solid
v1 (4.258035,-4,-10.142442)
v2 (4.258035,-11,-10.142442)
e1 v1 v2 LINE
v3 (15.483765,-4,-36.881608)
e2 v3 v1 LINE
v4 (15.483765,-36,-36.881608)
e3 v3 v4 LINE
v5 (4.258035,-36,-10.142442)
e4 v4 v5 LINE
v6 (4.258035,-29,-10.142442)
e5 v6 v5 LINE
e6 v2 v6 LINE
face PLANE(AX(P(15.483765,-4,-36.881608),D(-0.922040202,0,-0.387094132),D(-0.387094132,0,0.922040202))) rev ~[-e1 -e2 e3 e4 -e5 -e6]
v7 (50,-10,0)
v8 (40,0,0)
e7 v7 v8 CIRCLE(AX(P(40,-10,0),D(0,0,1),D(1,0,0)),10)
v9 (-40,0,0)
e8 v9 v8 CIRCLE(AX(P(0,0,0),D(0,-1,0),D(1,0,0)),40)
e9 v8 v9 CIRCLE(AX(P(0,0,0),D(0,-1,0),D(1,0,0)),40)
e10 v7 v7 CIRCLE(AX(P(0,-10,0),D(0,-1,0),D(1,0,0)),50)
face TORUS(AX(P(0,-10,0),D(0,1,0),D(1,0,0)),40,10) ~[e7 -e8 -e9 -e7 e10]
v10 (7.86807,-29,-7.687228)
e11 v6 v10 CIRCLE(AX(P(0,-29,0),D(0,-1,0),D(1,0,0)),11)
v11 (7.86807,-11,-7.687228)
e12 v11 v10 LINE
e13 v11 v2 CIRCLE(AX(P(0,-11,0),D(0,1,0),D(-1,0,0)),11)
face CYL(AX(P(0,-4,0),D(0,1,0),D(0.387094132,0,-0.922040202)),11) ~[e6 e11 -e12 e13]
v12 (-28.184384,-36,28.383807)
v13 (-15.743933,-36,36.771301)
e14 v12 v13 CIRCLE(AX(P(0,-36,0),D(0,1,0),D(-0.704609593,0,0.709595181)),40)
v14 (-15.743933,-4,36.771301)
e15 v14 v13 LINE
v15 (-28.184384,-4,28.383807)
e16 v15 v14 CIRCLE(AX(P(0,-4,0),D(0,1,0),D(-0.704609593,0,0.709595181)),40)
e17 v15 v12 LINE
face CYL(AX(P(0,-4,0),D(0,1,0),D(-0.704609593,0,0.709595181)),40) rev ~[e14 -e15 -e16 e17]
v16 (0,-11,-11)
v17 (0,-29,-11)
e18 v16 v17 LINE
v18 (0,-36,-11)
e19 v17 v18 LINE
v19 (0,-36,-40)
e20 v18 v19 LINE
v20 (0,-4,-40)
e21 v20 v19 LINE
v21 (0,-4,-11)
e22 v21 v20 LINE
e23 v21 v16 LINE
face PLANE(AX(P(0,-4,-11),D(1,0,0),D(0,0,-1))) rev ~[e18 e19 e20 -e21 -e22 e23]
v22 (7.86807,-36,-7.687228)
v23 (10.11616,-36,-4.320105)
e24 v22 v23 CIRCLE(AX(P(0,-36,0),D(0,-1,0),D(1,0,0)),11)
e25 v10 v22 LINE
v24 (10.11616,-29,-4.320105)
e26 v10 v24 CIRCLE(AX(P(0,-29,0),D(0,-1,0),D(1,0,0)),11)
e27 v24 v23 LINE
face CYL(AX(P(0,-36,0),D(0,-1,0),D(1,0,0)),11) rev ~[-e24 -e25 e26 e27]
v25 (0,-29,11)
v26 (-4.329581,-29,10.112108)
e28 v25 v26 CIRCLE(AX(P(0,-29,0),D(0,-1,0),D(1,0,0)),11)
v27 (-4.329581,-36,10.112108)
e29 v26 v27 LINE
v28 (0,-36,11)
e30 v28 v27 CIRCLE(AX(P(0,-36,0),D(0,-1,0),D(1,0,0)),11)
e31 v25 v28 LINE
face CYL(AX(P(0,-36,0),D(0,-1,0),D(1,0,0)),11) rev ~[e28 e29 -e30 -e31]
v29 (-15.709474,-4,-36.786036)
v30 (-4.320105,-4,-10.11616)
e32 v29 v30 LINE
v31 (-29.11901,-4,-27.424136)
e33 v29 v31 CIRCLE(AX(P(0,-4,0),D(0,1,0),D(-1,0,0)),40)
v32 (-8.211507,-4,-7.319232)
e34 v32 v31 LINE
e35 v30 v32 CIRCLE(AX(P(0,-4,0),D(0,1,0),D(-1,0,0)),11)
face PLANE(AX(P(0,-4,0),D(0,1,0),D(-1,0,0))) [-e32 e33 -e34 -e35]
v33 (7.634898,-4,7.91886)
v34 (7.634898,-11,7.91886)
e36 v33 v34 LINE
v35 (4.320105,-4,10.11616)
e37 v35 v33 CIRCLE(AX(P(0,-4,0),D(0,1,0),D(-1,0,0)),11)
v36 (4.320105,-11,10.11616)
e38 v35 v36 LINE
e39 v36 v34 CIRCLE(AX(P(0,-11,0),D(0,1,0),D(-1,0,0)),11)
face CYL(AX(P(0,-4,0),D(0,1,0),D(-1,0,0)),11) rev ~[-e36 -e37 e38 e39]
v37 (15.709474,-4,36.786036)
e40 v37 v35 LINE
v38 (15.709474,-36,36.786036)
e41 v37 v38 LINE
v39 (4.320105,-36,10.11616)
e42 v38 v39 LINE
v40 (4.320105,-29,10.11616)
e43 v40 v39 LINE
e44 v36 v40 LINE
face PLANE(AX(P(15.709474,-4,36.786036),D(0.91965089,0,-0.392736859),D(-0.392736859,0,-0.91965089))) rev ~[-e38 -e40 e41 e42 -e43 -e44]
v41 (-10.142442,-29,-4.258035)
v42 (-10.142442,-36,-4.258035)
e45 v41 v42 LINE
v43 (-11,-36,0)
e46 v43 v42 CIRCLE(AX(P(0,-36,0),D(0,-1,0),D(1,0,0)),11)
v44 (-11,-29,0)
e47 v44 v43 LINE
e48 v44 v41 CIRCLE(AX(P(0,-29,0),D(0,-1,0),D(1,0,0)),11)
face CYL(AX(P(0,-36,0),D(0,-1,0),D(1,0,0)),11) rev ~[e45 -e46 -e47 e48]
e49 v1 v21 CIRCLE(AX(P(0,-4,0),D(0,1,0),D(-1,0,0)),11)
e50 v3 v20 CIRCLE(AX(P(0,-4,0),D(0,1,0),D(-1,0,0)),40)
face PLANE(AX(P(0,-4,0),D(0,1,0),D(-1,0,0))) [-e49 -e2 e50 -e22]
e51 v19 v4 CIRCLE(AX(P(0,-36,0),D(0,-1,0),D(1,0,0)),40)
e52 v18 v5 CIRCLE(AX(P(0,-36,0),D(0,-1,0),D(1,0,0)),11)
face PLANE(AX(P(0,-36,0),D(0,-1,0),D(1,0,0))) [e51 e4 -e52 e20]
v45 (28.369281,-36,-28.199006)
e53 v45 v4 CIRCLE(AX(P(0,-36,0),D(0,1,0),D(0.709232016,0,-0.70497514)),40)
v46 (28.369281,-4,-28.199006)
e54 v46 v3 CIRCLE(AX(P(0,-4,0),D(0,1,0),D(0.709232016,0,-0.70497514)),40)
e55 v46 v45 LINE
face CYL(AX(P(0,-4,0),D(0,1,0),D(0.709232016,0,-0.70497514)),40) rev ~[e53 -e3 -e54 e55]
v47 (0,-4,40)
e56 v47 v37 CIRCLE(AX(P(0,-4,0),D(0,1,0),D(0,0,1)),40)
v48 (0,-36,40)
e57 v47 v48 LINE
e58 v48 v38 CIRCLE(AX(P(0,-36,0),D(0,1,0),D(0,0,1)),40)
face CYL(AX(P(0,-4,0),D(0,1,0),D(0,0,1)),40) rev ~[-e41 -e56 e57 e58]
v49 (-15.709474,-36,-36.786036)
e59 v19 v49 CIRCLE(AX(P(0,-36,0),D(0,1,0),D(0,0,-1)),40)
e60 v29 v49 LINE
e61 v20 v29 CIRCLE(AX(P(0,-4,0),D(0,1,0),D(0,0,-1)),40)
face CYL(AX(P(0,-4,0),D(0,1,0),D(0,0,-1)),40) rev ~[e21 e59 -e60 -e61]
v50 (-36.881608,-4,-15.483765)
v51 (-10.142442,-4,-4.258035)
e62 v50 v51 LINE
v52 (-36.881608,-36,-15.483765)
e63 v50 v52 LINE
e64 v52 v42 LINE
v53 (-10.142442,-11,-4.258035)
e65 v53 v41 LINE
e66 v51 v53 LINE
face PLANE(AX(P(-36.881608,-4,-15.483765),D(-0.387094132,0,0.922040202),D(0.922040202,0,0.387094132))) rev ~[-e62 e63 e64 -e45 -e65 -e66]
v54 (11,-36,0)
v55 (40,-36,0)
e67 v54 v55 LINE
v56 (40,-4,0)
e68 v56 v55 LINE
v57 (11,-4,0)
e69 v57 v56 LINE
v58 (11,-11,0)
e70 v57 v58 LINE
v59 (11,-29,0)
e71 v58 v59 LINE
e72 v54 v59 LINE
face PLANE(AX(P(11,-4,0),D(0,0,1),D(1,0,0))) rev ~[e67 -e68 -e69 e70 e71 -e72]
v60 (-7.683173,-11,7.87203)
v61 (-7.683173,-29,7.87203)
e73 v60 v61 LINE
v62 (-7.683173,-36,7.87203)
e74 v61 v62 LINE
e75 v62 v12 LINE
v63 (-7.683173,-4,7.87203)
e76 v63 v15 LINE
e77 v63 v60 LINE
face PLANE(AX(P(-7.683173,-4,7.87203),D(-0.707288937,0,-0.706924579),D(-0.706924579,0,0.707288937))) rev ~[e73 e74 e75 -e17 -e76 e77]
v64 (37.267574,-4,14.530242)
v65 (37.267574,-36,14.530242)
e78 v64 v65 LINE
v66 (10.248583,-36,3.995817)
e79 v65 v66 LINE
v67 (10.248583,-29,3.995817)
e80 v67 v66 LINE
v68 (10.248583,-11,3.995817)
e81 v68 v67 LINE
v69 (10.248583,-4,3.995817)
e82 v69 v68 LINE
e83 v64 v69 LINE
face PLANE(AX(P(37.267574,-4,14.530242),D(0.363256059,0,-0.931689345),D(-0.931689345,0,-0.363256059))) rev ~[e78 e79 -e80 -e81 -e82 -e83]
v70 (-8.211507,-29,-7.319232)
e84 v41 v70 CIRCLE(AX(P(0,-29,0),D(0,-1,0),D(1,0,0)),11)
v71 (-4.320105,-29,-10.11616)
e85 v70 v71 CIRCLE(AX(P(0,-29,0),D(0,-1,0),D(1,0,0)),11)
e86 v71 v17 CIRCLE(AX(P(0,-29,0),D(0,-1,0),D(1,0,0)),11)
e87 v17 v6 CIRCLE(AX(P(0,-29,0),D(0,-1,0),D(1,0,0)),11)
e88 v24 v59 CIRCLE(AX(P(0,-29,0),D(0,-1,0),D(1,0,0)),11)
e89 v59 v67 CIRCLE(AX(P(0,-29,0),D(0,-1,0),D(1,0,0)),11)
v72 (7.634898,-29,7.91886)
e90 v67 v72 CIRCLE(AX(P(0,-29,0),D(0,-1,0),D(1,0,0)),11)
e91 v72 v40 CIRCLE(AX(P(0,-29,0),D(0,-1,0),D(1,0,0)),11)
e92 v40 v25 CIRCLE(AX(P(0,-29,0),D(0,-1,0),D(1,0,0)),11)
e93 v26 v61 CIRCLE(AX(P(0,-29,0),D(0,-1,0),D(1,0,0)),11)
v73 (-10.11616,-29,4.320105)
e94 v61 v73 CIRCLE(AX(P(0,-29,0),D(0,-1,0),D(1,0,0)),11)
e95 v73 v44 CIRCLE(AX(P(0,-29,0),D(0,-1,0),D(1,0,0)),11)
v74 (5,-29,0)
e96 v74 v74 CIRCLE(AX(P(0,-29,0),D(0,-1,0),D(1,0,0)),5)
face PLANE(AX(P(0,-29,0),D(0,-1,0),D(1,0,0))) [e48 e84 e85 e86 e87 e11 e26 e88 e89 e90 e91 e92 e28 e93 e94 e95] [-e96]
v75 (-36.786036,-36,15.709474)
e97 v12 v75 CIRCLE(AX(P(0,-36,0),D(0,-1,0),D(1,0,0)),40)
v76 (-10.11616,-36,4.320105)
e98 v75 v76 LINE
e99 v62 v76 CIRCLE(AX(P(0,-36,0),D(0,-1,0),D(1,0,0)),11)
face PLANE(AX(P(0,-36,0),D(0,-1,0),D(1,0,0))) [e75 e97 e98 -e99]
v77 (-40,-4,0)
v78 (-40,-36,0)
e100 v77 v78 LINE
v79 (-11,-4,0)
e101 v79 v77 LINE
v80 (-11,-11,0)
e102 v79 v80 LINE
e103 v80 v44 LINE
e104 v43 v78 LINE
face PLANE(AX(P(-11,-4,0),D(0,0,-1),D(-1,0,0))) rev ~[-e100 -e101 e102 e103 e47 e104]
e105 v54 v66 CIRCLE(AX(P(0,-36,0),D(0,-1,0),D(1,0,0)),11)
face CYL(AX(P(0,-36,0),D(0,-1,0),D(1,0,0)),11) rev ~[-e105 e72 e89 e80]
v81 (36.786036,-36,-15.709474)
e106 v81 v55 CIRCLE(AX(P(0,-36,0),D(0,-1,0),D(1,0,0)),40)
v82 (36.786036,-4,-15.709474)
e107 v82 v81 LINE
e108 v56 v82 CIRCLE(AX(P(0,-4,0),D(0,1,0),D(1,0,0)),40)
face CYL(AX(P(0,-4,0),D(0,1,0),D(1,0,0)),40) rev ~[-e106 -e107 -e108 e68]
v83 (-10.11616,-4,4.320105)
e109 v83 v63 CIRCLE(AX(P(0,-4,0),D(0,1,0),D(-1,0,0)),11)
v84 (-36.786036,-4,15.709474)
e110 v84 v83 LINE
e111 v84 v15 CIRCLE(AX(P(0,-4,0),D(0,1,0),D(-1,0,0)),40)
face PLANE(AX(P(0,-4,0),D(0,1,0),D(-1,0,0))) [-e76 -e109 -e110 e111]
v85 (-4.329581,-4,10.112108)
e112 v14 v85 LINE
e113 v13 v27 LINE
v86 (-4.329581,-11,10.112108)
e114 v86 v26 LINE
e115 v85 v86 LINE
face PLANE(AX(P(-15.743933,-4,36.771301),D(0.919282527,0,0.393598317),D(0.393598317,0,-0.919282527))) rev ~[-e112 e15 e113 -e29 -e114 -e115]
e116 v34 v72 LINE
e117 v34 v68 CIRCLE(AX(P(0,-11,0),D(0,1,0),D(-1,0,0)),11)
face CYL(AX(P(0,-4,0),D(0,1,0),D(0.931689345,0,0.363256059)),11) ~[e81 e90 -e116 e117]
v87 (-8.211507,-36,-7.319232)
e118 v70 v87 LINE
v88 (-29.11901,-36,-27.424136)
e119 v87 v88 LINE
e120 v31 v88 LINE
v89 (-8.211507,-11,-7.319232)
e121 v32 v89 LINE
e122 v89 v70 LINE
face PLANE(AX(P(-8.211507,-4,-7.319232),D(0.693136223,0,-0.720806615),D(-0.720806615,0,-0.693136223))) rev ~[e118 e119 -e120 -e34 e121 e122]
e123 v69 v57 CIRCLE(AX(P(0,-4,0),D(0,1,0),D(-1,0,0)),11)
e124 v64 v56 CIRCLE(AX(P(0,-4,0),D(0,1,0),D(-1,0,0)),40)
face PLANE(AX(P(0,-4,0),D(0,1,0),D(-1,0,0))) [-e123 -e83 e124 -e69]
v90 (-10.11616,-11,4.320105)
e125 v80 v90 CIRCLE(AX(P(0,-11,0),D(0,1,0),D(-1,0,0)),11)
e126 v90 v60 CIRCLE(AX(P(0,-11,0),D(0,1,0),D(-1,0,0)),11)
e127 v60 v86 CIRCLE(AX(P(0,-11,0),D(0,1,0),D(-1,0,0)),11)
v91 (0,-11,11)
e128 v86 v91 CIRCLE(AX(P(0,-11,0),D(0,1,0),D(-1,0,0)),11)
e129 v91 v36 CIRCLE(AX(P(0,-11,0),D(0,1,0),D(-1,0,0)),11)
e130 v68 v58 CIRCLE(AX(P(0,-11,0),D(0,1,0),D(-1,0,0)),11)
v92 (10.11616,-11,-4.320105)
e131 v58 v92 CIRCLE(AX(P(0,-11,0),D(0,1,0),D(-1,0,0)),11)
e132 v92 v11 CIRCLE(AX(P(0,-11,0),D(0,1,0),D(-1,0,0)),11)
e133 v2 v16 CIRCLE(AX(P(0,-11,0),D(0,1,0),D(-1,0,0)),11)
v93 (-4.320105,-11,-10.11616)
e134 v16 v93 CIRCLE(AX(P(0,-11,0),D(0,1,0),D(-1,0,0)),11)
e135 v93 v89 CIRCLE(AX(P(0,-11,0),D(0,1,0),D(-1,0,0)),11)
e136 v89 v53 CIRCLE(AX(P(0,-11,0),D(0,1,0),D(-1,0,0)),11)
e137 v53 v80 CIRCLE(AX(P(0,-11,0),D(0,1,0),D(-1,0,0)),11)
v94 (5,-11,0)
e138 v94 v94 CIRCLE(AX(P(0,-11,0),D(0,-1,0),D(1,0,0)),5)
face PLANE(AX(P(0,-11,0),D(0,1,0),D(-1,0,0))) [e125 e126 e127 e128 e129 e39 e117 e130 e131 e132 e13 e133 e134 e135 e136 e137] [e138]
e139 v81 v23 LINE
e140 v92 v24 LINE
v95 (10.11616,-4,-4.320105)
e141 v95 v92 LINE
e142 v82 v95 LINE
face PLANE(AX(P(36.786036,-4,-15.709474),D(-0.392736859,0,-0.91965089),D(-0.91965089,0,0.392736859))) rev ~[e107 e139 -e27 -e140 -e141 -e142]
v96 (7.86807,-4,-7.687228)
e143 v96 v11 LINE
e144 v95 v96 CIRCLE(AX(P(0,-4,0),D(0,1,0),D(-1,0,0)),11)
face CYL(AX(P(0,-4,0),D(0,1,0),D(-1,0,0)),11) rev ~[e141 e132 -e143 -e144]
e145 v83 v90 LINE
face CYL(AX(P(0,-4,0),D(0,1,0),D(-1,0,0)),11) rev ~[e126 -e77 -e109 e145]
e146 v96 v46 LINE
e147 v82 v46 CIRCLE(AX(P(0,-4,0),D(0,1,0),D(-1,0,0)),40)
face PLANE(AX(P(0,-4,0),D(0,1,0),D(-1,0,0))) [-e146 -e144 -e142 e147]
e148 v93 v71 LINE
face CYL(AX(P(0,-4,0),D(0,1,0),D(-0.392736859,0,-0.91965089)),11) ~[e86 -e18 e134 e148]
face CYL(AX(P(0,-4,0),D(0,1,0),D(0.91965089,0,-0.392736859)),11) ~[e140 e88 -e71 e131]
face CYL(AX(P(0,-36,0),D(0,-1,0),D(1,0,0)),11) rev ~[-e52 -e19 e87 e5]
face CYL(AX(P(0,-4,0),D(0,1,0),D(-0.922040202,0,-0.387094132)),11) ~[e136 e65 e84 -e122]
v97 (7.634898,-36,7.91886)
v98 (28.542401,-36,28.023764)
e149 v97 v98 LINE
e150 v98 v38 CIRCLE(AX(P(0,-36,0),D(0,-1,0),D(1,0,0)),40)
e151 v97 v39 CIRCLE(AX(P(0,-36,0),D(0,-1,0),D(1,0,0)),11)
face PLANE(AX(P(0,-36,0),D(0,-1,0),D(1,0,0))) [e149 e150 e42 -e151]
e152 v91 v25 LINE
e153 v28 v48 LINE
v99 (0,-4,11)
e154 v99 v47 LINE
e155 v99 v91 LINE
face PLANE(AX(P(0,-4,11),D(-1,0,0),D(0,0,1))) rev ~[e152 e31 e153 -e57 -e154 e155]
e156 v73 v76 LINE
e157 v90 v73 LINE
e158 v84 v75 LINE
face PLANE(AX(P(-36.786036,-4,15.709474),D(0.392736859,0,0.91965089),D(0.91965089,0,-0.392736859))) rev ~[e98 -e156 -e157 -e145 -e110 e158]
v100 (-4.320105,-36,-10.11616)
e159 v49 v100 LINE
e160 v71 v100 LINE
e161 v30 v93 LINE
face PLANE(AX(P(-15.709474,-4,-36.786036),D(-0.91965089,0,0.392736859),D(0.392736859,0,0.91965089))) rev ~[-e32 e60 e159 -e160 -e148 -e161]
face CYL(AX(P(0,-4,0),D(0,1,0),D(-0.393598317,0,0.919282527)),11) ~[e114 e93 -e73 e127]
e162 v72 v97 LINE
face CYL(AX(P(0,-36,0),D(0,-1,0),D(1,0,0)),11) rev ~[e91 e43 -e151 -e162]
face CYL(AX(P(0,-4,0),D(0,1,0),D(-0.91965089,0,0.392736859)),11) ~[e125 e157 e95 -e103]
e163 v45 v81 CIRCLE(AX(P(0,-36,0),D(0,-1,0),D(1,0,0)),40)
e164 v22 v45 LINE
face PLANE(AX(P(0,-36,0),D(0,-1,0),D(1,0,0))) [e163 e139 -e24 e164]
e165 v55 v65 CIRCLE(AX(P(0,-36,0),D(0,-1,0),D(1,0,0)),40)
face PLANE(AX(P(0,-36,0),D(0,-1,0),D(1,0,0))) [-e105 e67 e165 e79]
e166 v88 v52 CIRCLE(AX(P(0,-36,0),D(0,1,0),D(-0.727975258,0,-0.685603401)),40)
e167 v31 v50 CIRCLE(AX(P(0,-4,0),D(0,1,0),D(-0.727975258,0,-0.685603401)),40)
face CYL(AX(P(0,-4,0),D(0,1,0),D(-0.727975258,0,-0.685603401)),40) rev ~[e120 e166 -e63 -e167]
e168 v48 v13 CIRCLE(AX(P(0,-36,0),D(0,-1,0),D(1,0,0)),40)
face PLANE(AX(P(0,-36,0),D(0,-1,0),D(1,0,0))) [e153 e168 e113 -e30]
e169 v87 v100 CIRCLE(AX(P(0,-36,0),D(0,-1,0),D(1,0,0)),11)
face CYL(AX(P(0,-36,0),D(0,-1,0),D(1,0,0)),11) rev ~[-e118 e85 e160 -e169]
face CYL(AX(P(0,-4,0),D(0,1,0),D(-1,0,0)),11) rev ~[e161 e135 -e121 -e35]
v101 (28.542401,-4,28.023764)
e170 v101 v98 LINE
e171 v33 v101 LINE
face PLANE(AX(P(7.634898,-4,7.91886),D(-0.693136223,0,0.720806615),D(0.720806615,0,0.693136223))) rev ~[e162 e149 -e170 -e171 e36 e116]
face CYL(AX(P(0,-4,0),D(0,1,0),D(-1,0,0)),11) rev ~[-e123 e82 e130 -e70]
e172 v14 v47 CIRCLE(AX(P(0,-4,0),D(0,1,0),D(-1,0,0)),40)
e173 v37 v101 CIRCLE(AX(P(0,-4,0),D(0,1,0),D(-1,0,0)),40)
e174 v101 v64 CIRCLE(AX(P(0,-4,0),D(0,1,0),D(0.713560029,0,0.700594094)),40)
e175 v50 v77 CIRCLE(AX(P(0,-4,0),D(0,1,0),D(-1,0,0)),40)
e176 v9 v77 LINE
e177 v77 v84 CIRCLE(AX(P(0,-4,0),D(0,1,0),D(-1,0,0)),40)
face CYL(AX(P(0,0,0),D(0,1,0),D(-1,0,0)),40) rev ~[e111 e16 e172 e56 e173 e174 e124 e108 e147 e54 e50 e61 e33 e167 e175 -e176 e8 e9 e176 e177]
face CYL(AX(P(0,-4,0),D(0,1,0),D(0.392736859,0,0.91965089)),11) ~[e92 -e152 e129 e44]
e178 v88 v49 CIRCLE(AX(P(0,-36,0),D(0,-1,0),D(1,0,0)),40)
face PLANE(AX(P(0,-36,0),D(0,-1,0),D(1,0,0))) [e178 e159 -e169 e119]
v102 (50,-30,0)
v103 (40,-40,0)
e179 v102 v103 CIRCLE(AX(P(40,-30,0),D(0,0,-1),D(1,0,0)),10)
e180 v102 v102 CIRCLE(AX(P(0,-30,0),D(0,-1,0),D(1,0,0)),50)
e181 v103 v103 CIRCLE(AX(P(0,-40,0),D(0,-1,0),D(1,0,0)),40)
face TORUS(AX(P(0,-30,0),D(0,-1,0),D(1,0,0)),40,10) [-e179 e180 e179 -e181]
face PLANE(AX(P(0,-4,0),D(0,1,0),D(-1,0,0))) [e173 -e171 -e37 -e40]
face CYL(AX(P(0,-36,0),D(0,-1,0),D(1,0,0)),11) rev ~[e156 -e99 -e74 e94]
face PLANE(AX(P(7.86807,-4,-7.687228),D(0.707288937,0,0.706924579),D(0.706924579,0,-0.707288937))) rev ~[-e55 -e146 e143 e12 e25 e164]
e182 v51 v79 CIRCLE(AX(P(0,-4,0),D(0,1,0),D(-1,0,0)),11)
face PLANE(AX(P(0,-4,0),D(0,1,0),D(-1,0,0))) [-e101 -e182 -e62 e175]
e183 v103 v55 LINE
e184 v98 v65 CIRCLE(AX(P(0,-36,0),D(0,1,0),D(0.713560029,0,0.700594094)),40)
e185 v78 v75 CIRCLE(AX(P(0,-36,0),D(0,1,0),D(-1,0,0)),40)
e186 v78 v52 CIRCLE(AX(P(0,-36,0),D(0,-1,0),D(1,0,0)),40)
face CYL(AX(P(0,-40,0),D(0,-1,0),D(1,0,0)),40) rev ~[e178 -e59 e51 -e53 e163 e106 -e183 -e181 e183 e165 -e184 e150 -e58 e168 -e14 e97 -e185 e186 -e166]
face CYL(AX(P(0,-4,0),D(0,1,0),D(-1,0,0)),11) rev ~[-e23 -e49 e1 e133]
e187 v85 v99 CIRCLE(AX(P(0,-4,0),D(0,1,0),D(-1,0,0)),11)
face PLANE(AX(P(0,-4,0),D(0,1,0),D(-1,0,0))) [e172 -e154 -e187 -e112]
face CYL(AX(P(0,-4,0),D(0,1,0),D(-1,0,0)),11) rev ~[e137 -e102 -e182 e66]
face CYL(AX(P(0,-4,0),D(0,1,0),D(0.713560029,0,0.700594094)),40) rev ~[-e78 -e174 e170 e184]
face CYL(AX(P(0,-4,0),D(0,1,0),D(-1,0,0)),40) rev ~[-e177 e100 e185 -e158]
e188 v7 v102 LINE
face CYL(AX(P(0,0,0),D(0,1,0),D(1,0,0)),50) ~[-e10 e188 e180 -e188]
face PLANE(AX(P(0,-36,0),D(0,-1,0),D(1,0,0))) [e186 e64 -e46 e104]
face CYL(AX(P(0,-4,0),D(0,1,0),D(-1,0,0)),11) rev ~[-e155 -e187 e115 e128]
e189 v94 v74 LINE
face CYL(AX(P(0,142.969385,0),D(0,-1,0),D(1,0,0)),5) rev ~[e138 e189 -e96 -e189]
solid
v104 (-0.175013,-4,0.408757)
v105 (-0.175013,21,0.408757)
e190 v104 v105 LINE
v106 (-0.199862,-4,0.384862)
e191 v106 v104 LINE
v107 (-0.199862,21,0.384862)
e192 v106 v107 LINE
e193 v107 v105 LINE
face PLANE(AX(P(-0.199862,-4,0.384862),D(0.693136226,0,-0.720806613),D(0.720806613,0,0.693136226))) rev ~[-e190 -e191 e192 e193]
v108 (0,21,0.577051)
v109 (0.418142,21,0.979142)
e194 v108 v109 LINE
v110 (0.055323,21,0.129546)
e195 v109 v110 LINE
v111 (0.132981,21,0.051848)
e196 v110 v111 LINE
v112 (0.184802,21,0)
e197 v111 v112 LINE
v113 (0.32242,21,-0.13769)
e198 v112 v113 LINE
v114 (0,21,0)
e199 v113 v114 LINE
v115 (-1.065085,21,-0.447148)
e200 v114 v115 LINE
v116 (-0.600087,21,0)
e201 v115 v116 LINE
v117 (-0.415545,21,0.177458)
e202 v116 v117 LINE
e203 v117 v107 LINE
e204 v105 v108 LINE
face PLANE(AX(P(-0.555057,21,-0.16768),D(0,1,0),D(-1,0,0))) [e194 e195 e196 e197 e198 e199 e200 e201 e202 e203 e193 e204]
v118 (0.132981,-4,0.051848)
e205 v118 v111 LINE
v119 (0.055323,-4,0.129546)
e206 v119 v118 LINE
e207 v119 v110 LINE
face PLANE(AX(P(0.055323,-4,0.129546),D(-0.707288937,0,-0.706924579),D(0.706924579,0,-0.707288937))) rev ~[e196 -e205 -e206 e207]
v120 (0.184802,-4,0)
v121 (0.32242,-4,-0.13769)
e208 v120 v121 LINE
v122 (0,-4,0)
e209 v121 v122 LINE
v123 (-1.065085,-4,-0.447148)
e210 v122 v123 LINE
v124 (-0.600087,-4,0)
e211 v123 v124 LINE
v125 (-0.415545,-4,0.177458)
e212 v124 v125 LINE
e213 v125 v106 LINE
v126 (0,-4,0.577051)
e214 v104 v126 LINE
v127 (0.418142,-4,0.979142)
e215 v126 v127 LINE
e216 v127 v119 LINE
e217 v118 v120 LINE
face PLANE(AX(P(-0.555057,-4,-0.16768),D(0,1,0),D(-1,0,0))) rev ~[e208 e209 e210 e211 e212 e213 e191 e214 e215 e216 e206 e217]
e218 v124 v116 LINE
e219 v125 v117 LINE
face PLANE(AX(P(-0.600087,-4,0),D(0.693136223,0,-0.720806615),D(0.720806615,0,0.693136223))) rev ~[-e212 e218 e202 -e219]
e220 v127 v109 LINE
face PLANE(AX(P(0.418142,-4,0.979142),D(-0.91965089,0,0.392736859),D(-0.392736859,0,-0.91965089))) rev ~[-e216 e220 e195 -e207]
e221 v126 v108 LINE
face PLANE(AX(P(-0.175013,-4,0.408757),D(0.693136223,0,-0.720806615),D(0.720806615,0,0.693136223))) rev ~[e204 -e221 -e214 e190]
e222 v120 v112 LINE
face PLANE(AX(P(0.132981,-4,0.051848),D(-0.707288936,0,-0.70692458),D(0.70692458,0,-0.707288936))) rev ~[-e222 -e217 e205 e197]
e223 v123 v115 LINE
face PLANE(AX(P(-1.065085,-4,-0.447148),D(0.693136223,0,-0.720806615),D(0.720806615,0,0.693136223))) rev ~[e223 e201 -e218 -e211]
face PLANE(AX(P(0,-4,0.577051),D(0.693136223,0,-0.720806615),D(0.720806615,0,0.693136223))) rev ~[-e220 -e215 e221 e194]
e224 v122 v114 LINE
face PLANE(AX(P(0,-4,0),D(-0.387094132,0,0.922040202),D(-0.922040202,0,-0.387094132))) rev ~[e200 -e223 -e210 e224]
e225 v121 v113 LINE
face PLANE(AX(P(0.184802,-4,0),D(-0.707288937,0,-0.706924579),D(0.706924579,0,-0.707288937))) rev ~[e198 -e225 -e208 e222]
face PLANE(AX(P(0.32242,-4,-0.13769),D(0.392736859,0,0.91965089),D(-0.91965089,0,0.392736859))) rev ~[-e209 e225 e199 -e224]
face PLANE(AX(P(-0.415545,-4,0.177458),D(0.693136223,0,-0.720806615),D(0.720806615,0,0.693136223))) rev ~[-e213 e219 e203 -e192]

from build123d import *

# Parameters (mm, degrees)
F0_R      = 50
F1_DEPTH  = 40
F3_R      = 10
F2_R      = 40
F4_DEPTH  = 4
F5_R      = 40
F6_DEPTH  = 4
F7_R      = 11
F8_DEPTH  = 7
F9_R      = 11
F10_DEPTH = 7
F12_D     = 10
F14_DEPTH = 25
F16_DEPTH = 32


with BuildPart() as f1:
    # F0 (on Front) → F1 (new body)
    with BuildSketch(Plane.XZ):
        Circle(F0_R)
    extrude(amount=F1_DEPTH)

    # F3
    f3_edges = [f1.edges().sort_by_distance(p)[0] for p in [
        (-50, 0, 0),
        (50, -20, 0),
        (-50, -40, 0),
    ]]
    fillet(f3_edges, radius=F3_R)

    # F2 (on face) → F4 (cut)
    with BuildSketch(Plane.XZ.offset(40)):
        Circle(F2_R)
    extrude(amount=-F4_DEPTH, mode=Mode.SUBTRACT)

    # F5 (on face) → F6 (cut)
    with BuildSketch(Plane(origin=(0, 0, 0), x_dir=(-1, 0, 0), z_dir=(0, 1, 0))):
        Circle(F5_R)
    extrude(amount=-F6_DEPTH, mode=Mode.SUBTRACT)

    # F7 (on face) → F8 (cut)
    with BuildSketch(Plane(origin=(0, -4, 0), x_dir=(-1, 0, 0), z_dir=(0, 1, 0))):
        Circle(F7_R)
    extrude(amount=-F8_DEPTH, mode=Mode.SUBTRACT)

    # F9 (on face) → F10 (cut)
    with BuildSketch(Plane.XZ.offset(36)):
        Circle(F9_R)
    extrude(amount=-F10_DEPTH, mode=Mode.SUBTRACT)

    # F12 (through all)
    with Locations(Plane(origin=(0, -4, 0), x_dir=(-1, 0, 0), z_dir=(0, 1, 0))):
        with Locations((0, 0)):
            Hole(F12_D / 2)

    # F15 (on face) + F13 (on face) → F16 (cut, through all)
    with BuildSketch(Plane(origin=(0, -4, 0), x_dir=(-1, 0, 0), z_dir=(0, 1, 0))):
        with BuildLine():
            ThreePointArc((-28.5424011699, 28.0237637632), (-33.5895367831, 21.7196459155), (-37.2675737992, 14.5302423628))
            Line((-37.2675737992, 14.5302423628), (-10.2485827948, 3.9958166498))
            ThreePointArc((-10.2485827948, 3.9958166498), (-9.1543588219, 6.0989929136), (-7.6348977457, 7.9188595399))
            Line((-7.6348977457, 7.9188595399), (-28.5424011699, 28.0237637632))
        make_face()
    with BuildSketch(Plane(origin=(0, -4, 0), x_dir=(-1, 0, 0), z_dir=(0, 1, 0))):
        with BuildLine():
            Line((-36.7860355942, -15.7094743788), (-10.1161597884, -4.3201054542))
            ThreePointArc((-10.1161597884, -4.3201054542), (-10.7767749738, -2.2047950389), (-11, 0))
            Line((-11, 0), (-40, 0))
            ThreePointArc((-40, 0), (-39.1882726321, -8.0174365052), (-36.7860355942, -15.7094743788))
        make_face()
        with BuildLine():
            Line((-15.4837652661, -36.8816080613), (-4.2580354482, -10.1424422168))
            ThreePointArc((-4.2580354482, -10.1424422168), (-6.1860832703, -9.0957338227), (-7.8680698212, -7.6872281928))
            Line((-7.8680698212, -7.6872281928), (-28.3692806361, -28.1990055887))
            ThreePointArc((-28.3692806361, -28.1990055887), (-22.3521655584, -33.1719865979), (-15.4837652661, -36.8816080613))
        make_face()
        with BuildLine():
            Line((15.7094743788, -36.7860355942), (4.3201054542, -10.1161597884))
            ThreePointArc((4.3201054542, -10.1161597884), (2.2047950389, -10.7767749738), (0, -11))
            Line((0, -11), (0, -40))
            ThreePointArc((0, -40), (8.0174365052, -39.1882726321), (15.7094743788, -36.7860355942))
        make_face()
        with BuildLine():
            ThreePointArc((10.1424422168, -4.2580354482), (9.3037407951, -5.8685949951), (8.2115068907, -7.3192318302))
            Line((8.2115068907, -7.3192318302), (29.1190103149, -27.4241360535))
            ThreePointArc((29.1190103149, -27.4241360535), (33.5360033418, -21.8022127284), (36.8816080613, -15.4837652661))
            Line((36.8816080613, -15.4837652661), (10.1424422168, -4.2580354482))
        make_face()
        with BuildLine():
            Line((36.7860355942, 15.7094743788), (10.1161597884, 4.3201054542))
            ThreePointArc((10.1161597884, 4.3201054542), (10.7767749738, 2.2047950389), (11, 0))
            Line((11, 0), (40, 0))
            ThreePointArc((40, 0), (39.1882726321, 8.0174365052), (36.7860355942, 15.7094743788))
        make_face()
        with BuildLine():
            Line((15.7439326676, 36.7713010942), (4.3295814836, 10.1121078009))
            ThreePointArc((4.3295814836, 10.1121078009), (6.1099144323, 9.1470730635), (7.6831729155, 7.8720298494))
            Line((7.6831729155, 7.8720298494), (28.1843837304, 28.3838072453))
            ThreePointArc((28.1843837304, 28.3838072453), (22.360942705, 33.1660706347), (15.7439326676, 36.7713010942))
        make_face()
        with BuildLine():
            Line((-15.7094743788, 36.7860355942), (-4.3201054542, 10.1161597884))
            ThreePointArc((-4.3201054542, 10.1161597884), (-2.2047950389, 10.7767749738), (0, 11))
            Line((0, 11), (0, 40))
            ThreePointArc((0, 40), (-8.0174365052, 39.1882726321), (-15.7094743788, 36.7860355942))
        make_face()
    extrude(amount=-F16_DEPTH, mode=Mode.SUBTRACT)


with BuildPart() as f14:
    # F13 (on face) → F14 (new body)
    with BuildSketch(Plane(origin=(0, -4, 0), x_dir=(-1, 0, 0), z_dir=(0, 1, 0))):
        Polygon((0.6000871668, 0), (0, 0), (1.0650854519, -0.4471478873), align=None)
        Polygon((-0.1848016812, 0), (0, 0), (-0.1329806194, 0.0518477709), align=None)
        Polygon((0, 0.1848969303), (0, 0), (0.1384923008, 0.3234606117), align=None)
        Polygon((-0.1329806194, 0.0518477709), (0, 0), (-0.0553225533, 0.129545863), align=None)
        Polygon((0.1384923008, 0.3234606117), (0, 0), (0.4155446231, 0.1774583073), (0.1998616656, 0.3848616071), align=None)
        Polygon((-0.3224203372, -0.1376895864), (0, 0), (-0.1848016812, 0), align=None)
        Polygon((0.4155446231, 0.1774583073), (0, 0), (0.6000871668, 0), align=None)
        Polygon((-0.0553225533, 0.129545863), (0, 0), (0, 0.1848969303), align=None)
        Polygon((0, 0.1848969303), (0.1384923008, 0.3234606117), (0.1750125609, 0.4087568022), (0, 0.5770509644), align=None)
        Polygon((0.1750125609, 0.4087568022), (0.1384923008, 0.3234606117), (0.1998616656, 0.3848616071), align=None)
        Polygon((-0.4181423928, 0.9791416679), (-0.0553225533, 0.129545863), (0, 0.1848969303), (0, 0.5770509644), align=None)
    extrude(amount=F14_DEPTH)


solid = Compound([f1.part, f14.part])
